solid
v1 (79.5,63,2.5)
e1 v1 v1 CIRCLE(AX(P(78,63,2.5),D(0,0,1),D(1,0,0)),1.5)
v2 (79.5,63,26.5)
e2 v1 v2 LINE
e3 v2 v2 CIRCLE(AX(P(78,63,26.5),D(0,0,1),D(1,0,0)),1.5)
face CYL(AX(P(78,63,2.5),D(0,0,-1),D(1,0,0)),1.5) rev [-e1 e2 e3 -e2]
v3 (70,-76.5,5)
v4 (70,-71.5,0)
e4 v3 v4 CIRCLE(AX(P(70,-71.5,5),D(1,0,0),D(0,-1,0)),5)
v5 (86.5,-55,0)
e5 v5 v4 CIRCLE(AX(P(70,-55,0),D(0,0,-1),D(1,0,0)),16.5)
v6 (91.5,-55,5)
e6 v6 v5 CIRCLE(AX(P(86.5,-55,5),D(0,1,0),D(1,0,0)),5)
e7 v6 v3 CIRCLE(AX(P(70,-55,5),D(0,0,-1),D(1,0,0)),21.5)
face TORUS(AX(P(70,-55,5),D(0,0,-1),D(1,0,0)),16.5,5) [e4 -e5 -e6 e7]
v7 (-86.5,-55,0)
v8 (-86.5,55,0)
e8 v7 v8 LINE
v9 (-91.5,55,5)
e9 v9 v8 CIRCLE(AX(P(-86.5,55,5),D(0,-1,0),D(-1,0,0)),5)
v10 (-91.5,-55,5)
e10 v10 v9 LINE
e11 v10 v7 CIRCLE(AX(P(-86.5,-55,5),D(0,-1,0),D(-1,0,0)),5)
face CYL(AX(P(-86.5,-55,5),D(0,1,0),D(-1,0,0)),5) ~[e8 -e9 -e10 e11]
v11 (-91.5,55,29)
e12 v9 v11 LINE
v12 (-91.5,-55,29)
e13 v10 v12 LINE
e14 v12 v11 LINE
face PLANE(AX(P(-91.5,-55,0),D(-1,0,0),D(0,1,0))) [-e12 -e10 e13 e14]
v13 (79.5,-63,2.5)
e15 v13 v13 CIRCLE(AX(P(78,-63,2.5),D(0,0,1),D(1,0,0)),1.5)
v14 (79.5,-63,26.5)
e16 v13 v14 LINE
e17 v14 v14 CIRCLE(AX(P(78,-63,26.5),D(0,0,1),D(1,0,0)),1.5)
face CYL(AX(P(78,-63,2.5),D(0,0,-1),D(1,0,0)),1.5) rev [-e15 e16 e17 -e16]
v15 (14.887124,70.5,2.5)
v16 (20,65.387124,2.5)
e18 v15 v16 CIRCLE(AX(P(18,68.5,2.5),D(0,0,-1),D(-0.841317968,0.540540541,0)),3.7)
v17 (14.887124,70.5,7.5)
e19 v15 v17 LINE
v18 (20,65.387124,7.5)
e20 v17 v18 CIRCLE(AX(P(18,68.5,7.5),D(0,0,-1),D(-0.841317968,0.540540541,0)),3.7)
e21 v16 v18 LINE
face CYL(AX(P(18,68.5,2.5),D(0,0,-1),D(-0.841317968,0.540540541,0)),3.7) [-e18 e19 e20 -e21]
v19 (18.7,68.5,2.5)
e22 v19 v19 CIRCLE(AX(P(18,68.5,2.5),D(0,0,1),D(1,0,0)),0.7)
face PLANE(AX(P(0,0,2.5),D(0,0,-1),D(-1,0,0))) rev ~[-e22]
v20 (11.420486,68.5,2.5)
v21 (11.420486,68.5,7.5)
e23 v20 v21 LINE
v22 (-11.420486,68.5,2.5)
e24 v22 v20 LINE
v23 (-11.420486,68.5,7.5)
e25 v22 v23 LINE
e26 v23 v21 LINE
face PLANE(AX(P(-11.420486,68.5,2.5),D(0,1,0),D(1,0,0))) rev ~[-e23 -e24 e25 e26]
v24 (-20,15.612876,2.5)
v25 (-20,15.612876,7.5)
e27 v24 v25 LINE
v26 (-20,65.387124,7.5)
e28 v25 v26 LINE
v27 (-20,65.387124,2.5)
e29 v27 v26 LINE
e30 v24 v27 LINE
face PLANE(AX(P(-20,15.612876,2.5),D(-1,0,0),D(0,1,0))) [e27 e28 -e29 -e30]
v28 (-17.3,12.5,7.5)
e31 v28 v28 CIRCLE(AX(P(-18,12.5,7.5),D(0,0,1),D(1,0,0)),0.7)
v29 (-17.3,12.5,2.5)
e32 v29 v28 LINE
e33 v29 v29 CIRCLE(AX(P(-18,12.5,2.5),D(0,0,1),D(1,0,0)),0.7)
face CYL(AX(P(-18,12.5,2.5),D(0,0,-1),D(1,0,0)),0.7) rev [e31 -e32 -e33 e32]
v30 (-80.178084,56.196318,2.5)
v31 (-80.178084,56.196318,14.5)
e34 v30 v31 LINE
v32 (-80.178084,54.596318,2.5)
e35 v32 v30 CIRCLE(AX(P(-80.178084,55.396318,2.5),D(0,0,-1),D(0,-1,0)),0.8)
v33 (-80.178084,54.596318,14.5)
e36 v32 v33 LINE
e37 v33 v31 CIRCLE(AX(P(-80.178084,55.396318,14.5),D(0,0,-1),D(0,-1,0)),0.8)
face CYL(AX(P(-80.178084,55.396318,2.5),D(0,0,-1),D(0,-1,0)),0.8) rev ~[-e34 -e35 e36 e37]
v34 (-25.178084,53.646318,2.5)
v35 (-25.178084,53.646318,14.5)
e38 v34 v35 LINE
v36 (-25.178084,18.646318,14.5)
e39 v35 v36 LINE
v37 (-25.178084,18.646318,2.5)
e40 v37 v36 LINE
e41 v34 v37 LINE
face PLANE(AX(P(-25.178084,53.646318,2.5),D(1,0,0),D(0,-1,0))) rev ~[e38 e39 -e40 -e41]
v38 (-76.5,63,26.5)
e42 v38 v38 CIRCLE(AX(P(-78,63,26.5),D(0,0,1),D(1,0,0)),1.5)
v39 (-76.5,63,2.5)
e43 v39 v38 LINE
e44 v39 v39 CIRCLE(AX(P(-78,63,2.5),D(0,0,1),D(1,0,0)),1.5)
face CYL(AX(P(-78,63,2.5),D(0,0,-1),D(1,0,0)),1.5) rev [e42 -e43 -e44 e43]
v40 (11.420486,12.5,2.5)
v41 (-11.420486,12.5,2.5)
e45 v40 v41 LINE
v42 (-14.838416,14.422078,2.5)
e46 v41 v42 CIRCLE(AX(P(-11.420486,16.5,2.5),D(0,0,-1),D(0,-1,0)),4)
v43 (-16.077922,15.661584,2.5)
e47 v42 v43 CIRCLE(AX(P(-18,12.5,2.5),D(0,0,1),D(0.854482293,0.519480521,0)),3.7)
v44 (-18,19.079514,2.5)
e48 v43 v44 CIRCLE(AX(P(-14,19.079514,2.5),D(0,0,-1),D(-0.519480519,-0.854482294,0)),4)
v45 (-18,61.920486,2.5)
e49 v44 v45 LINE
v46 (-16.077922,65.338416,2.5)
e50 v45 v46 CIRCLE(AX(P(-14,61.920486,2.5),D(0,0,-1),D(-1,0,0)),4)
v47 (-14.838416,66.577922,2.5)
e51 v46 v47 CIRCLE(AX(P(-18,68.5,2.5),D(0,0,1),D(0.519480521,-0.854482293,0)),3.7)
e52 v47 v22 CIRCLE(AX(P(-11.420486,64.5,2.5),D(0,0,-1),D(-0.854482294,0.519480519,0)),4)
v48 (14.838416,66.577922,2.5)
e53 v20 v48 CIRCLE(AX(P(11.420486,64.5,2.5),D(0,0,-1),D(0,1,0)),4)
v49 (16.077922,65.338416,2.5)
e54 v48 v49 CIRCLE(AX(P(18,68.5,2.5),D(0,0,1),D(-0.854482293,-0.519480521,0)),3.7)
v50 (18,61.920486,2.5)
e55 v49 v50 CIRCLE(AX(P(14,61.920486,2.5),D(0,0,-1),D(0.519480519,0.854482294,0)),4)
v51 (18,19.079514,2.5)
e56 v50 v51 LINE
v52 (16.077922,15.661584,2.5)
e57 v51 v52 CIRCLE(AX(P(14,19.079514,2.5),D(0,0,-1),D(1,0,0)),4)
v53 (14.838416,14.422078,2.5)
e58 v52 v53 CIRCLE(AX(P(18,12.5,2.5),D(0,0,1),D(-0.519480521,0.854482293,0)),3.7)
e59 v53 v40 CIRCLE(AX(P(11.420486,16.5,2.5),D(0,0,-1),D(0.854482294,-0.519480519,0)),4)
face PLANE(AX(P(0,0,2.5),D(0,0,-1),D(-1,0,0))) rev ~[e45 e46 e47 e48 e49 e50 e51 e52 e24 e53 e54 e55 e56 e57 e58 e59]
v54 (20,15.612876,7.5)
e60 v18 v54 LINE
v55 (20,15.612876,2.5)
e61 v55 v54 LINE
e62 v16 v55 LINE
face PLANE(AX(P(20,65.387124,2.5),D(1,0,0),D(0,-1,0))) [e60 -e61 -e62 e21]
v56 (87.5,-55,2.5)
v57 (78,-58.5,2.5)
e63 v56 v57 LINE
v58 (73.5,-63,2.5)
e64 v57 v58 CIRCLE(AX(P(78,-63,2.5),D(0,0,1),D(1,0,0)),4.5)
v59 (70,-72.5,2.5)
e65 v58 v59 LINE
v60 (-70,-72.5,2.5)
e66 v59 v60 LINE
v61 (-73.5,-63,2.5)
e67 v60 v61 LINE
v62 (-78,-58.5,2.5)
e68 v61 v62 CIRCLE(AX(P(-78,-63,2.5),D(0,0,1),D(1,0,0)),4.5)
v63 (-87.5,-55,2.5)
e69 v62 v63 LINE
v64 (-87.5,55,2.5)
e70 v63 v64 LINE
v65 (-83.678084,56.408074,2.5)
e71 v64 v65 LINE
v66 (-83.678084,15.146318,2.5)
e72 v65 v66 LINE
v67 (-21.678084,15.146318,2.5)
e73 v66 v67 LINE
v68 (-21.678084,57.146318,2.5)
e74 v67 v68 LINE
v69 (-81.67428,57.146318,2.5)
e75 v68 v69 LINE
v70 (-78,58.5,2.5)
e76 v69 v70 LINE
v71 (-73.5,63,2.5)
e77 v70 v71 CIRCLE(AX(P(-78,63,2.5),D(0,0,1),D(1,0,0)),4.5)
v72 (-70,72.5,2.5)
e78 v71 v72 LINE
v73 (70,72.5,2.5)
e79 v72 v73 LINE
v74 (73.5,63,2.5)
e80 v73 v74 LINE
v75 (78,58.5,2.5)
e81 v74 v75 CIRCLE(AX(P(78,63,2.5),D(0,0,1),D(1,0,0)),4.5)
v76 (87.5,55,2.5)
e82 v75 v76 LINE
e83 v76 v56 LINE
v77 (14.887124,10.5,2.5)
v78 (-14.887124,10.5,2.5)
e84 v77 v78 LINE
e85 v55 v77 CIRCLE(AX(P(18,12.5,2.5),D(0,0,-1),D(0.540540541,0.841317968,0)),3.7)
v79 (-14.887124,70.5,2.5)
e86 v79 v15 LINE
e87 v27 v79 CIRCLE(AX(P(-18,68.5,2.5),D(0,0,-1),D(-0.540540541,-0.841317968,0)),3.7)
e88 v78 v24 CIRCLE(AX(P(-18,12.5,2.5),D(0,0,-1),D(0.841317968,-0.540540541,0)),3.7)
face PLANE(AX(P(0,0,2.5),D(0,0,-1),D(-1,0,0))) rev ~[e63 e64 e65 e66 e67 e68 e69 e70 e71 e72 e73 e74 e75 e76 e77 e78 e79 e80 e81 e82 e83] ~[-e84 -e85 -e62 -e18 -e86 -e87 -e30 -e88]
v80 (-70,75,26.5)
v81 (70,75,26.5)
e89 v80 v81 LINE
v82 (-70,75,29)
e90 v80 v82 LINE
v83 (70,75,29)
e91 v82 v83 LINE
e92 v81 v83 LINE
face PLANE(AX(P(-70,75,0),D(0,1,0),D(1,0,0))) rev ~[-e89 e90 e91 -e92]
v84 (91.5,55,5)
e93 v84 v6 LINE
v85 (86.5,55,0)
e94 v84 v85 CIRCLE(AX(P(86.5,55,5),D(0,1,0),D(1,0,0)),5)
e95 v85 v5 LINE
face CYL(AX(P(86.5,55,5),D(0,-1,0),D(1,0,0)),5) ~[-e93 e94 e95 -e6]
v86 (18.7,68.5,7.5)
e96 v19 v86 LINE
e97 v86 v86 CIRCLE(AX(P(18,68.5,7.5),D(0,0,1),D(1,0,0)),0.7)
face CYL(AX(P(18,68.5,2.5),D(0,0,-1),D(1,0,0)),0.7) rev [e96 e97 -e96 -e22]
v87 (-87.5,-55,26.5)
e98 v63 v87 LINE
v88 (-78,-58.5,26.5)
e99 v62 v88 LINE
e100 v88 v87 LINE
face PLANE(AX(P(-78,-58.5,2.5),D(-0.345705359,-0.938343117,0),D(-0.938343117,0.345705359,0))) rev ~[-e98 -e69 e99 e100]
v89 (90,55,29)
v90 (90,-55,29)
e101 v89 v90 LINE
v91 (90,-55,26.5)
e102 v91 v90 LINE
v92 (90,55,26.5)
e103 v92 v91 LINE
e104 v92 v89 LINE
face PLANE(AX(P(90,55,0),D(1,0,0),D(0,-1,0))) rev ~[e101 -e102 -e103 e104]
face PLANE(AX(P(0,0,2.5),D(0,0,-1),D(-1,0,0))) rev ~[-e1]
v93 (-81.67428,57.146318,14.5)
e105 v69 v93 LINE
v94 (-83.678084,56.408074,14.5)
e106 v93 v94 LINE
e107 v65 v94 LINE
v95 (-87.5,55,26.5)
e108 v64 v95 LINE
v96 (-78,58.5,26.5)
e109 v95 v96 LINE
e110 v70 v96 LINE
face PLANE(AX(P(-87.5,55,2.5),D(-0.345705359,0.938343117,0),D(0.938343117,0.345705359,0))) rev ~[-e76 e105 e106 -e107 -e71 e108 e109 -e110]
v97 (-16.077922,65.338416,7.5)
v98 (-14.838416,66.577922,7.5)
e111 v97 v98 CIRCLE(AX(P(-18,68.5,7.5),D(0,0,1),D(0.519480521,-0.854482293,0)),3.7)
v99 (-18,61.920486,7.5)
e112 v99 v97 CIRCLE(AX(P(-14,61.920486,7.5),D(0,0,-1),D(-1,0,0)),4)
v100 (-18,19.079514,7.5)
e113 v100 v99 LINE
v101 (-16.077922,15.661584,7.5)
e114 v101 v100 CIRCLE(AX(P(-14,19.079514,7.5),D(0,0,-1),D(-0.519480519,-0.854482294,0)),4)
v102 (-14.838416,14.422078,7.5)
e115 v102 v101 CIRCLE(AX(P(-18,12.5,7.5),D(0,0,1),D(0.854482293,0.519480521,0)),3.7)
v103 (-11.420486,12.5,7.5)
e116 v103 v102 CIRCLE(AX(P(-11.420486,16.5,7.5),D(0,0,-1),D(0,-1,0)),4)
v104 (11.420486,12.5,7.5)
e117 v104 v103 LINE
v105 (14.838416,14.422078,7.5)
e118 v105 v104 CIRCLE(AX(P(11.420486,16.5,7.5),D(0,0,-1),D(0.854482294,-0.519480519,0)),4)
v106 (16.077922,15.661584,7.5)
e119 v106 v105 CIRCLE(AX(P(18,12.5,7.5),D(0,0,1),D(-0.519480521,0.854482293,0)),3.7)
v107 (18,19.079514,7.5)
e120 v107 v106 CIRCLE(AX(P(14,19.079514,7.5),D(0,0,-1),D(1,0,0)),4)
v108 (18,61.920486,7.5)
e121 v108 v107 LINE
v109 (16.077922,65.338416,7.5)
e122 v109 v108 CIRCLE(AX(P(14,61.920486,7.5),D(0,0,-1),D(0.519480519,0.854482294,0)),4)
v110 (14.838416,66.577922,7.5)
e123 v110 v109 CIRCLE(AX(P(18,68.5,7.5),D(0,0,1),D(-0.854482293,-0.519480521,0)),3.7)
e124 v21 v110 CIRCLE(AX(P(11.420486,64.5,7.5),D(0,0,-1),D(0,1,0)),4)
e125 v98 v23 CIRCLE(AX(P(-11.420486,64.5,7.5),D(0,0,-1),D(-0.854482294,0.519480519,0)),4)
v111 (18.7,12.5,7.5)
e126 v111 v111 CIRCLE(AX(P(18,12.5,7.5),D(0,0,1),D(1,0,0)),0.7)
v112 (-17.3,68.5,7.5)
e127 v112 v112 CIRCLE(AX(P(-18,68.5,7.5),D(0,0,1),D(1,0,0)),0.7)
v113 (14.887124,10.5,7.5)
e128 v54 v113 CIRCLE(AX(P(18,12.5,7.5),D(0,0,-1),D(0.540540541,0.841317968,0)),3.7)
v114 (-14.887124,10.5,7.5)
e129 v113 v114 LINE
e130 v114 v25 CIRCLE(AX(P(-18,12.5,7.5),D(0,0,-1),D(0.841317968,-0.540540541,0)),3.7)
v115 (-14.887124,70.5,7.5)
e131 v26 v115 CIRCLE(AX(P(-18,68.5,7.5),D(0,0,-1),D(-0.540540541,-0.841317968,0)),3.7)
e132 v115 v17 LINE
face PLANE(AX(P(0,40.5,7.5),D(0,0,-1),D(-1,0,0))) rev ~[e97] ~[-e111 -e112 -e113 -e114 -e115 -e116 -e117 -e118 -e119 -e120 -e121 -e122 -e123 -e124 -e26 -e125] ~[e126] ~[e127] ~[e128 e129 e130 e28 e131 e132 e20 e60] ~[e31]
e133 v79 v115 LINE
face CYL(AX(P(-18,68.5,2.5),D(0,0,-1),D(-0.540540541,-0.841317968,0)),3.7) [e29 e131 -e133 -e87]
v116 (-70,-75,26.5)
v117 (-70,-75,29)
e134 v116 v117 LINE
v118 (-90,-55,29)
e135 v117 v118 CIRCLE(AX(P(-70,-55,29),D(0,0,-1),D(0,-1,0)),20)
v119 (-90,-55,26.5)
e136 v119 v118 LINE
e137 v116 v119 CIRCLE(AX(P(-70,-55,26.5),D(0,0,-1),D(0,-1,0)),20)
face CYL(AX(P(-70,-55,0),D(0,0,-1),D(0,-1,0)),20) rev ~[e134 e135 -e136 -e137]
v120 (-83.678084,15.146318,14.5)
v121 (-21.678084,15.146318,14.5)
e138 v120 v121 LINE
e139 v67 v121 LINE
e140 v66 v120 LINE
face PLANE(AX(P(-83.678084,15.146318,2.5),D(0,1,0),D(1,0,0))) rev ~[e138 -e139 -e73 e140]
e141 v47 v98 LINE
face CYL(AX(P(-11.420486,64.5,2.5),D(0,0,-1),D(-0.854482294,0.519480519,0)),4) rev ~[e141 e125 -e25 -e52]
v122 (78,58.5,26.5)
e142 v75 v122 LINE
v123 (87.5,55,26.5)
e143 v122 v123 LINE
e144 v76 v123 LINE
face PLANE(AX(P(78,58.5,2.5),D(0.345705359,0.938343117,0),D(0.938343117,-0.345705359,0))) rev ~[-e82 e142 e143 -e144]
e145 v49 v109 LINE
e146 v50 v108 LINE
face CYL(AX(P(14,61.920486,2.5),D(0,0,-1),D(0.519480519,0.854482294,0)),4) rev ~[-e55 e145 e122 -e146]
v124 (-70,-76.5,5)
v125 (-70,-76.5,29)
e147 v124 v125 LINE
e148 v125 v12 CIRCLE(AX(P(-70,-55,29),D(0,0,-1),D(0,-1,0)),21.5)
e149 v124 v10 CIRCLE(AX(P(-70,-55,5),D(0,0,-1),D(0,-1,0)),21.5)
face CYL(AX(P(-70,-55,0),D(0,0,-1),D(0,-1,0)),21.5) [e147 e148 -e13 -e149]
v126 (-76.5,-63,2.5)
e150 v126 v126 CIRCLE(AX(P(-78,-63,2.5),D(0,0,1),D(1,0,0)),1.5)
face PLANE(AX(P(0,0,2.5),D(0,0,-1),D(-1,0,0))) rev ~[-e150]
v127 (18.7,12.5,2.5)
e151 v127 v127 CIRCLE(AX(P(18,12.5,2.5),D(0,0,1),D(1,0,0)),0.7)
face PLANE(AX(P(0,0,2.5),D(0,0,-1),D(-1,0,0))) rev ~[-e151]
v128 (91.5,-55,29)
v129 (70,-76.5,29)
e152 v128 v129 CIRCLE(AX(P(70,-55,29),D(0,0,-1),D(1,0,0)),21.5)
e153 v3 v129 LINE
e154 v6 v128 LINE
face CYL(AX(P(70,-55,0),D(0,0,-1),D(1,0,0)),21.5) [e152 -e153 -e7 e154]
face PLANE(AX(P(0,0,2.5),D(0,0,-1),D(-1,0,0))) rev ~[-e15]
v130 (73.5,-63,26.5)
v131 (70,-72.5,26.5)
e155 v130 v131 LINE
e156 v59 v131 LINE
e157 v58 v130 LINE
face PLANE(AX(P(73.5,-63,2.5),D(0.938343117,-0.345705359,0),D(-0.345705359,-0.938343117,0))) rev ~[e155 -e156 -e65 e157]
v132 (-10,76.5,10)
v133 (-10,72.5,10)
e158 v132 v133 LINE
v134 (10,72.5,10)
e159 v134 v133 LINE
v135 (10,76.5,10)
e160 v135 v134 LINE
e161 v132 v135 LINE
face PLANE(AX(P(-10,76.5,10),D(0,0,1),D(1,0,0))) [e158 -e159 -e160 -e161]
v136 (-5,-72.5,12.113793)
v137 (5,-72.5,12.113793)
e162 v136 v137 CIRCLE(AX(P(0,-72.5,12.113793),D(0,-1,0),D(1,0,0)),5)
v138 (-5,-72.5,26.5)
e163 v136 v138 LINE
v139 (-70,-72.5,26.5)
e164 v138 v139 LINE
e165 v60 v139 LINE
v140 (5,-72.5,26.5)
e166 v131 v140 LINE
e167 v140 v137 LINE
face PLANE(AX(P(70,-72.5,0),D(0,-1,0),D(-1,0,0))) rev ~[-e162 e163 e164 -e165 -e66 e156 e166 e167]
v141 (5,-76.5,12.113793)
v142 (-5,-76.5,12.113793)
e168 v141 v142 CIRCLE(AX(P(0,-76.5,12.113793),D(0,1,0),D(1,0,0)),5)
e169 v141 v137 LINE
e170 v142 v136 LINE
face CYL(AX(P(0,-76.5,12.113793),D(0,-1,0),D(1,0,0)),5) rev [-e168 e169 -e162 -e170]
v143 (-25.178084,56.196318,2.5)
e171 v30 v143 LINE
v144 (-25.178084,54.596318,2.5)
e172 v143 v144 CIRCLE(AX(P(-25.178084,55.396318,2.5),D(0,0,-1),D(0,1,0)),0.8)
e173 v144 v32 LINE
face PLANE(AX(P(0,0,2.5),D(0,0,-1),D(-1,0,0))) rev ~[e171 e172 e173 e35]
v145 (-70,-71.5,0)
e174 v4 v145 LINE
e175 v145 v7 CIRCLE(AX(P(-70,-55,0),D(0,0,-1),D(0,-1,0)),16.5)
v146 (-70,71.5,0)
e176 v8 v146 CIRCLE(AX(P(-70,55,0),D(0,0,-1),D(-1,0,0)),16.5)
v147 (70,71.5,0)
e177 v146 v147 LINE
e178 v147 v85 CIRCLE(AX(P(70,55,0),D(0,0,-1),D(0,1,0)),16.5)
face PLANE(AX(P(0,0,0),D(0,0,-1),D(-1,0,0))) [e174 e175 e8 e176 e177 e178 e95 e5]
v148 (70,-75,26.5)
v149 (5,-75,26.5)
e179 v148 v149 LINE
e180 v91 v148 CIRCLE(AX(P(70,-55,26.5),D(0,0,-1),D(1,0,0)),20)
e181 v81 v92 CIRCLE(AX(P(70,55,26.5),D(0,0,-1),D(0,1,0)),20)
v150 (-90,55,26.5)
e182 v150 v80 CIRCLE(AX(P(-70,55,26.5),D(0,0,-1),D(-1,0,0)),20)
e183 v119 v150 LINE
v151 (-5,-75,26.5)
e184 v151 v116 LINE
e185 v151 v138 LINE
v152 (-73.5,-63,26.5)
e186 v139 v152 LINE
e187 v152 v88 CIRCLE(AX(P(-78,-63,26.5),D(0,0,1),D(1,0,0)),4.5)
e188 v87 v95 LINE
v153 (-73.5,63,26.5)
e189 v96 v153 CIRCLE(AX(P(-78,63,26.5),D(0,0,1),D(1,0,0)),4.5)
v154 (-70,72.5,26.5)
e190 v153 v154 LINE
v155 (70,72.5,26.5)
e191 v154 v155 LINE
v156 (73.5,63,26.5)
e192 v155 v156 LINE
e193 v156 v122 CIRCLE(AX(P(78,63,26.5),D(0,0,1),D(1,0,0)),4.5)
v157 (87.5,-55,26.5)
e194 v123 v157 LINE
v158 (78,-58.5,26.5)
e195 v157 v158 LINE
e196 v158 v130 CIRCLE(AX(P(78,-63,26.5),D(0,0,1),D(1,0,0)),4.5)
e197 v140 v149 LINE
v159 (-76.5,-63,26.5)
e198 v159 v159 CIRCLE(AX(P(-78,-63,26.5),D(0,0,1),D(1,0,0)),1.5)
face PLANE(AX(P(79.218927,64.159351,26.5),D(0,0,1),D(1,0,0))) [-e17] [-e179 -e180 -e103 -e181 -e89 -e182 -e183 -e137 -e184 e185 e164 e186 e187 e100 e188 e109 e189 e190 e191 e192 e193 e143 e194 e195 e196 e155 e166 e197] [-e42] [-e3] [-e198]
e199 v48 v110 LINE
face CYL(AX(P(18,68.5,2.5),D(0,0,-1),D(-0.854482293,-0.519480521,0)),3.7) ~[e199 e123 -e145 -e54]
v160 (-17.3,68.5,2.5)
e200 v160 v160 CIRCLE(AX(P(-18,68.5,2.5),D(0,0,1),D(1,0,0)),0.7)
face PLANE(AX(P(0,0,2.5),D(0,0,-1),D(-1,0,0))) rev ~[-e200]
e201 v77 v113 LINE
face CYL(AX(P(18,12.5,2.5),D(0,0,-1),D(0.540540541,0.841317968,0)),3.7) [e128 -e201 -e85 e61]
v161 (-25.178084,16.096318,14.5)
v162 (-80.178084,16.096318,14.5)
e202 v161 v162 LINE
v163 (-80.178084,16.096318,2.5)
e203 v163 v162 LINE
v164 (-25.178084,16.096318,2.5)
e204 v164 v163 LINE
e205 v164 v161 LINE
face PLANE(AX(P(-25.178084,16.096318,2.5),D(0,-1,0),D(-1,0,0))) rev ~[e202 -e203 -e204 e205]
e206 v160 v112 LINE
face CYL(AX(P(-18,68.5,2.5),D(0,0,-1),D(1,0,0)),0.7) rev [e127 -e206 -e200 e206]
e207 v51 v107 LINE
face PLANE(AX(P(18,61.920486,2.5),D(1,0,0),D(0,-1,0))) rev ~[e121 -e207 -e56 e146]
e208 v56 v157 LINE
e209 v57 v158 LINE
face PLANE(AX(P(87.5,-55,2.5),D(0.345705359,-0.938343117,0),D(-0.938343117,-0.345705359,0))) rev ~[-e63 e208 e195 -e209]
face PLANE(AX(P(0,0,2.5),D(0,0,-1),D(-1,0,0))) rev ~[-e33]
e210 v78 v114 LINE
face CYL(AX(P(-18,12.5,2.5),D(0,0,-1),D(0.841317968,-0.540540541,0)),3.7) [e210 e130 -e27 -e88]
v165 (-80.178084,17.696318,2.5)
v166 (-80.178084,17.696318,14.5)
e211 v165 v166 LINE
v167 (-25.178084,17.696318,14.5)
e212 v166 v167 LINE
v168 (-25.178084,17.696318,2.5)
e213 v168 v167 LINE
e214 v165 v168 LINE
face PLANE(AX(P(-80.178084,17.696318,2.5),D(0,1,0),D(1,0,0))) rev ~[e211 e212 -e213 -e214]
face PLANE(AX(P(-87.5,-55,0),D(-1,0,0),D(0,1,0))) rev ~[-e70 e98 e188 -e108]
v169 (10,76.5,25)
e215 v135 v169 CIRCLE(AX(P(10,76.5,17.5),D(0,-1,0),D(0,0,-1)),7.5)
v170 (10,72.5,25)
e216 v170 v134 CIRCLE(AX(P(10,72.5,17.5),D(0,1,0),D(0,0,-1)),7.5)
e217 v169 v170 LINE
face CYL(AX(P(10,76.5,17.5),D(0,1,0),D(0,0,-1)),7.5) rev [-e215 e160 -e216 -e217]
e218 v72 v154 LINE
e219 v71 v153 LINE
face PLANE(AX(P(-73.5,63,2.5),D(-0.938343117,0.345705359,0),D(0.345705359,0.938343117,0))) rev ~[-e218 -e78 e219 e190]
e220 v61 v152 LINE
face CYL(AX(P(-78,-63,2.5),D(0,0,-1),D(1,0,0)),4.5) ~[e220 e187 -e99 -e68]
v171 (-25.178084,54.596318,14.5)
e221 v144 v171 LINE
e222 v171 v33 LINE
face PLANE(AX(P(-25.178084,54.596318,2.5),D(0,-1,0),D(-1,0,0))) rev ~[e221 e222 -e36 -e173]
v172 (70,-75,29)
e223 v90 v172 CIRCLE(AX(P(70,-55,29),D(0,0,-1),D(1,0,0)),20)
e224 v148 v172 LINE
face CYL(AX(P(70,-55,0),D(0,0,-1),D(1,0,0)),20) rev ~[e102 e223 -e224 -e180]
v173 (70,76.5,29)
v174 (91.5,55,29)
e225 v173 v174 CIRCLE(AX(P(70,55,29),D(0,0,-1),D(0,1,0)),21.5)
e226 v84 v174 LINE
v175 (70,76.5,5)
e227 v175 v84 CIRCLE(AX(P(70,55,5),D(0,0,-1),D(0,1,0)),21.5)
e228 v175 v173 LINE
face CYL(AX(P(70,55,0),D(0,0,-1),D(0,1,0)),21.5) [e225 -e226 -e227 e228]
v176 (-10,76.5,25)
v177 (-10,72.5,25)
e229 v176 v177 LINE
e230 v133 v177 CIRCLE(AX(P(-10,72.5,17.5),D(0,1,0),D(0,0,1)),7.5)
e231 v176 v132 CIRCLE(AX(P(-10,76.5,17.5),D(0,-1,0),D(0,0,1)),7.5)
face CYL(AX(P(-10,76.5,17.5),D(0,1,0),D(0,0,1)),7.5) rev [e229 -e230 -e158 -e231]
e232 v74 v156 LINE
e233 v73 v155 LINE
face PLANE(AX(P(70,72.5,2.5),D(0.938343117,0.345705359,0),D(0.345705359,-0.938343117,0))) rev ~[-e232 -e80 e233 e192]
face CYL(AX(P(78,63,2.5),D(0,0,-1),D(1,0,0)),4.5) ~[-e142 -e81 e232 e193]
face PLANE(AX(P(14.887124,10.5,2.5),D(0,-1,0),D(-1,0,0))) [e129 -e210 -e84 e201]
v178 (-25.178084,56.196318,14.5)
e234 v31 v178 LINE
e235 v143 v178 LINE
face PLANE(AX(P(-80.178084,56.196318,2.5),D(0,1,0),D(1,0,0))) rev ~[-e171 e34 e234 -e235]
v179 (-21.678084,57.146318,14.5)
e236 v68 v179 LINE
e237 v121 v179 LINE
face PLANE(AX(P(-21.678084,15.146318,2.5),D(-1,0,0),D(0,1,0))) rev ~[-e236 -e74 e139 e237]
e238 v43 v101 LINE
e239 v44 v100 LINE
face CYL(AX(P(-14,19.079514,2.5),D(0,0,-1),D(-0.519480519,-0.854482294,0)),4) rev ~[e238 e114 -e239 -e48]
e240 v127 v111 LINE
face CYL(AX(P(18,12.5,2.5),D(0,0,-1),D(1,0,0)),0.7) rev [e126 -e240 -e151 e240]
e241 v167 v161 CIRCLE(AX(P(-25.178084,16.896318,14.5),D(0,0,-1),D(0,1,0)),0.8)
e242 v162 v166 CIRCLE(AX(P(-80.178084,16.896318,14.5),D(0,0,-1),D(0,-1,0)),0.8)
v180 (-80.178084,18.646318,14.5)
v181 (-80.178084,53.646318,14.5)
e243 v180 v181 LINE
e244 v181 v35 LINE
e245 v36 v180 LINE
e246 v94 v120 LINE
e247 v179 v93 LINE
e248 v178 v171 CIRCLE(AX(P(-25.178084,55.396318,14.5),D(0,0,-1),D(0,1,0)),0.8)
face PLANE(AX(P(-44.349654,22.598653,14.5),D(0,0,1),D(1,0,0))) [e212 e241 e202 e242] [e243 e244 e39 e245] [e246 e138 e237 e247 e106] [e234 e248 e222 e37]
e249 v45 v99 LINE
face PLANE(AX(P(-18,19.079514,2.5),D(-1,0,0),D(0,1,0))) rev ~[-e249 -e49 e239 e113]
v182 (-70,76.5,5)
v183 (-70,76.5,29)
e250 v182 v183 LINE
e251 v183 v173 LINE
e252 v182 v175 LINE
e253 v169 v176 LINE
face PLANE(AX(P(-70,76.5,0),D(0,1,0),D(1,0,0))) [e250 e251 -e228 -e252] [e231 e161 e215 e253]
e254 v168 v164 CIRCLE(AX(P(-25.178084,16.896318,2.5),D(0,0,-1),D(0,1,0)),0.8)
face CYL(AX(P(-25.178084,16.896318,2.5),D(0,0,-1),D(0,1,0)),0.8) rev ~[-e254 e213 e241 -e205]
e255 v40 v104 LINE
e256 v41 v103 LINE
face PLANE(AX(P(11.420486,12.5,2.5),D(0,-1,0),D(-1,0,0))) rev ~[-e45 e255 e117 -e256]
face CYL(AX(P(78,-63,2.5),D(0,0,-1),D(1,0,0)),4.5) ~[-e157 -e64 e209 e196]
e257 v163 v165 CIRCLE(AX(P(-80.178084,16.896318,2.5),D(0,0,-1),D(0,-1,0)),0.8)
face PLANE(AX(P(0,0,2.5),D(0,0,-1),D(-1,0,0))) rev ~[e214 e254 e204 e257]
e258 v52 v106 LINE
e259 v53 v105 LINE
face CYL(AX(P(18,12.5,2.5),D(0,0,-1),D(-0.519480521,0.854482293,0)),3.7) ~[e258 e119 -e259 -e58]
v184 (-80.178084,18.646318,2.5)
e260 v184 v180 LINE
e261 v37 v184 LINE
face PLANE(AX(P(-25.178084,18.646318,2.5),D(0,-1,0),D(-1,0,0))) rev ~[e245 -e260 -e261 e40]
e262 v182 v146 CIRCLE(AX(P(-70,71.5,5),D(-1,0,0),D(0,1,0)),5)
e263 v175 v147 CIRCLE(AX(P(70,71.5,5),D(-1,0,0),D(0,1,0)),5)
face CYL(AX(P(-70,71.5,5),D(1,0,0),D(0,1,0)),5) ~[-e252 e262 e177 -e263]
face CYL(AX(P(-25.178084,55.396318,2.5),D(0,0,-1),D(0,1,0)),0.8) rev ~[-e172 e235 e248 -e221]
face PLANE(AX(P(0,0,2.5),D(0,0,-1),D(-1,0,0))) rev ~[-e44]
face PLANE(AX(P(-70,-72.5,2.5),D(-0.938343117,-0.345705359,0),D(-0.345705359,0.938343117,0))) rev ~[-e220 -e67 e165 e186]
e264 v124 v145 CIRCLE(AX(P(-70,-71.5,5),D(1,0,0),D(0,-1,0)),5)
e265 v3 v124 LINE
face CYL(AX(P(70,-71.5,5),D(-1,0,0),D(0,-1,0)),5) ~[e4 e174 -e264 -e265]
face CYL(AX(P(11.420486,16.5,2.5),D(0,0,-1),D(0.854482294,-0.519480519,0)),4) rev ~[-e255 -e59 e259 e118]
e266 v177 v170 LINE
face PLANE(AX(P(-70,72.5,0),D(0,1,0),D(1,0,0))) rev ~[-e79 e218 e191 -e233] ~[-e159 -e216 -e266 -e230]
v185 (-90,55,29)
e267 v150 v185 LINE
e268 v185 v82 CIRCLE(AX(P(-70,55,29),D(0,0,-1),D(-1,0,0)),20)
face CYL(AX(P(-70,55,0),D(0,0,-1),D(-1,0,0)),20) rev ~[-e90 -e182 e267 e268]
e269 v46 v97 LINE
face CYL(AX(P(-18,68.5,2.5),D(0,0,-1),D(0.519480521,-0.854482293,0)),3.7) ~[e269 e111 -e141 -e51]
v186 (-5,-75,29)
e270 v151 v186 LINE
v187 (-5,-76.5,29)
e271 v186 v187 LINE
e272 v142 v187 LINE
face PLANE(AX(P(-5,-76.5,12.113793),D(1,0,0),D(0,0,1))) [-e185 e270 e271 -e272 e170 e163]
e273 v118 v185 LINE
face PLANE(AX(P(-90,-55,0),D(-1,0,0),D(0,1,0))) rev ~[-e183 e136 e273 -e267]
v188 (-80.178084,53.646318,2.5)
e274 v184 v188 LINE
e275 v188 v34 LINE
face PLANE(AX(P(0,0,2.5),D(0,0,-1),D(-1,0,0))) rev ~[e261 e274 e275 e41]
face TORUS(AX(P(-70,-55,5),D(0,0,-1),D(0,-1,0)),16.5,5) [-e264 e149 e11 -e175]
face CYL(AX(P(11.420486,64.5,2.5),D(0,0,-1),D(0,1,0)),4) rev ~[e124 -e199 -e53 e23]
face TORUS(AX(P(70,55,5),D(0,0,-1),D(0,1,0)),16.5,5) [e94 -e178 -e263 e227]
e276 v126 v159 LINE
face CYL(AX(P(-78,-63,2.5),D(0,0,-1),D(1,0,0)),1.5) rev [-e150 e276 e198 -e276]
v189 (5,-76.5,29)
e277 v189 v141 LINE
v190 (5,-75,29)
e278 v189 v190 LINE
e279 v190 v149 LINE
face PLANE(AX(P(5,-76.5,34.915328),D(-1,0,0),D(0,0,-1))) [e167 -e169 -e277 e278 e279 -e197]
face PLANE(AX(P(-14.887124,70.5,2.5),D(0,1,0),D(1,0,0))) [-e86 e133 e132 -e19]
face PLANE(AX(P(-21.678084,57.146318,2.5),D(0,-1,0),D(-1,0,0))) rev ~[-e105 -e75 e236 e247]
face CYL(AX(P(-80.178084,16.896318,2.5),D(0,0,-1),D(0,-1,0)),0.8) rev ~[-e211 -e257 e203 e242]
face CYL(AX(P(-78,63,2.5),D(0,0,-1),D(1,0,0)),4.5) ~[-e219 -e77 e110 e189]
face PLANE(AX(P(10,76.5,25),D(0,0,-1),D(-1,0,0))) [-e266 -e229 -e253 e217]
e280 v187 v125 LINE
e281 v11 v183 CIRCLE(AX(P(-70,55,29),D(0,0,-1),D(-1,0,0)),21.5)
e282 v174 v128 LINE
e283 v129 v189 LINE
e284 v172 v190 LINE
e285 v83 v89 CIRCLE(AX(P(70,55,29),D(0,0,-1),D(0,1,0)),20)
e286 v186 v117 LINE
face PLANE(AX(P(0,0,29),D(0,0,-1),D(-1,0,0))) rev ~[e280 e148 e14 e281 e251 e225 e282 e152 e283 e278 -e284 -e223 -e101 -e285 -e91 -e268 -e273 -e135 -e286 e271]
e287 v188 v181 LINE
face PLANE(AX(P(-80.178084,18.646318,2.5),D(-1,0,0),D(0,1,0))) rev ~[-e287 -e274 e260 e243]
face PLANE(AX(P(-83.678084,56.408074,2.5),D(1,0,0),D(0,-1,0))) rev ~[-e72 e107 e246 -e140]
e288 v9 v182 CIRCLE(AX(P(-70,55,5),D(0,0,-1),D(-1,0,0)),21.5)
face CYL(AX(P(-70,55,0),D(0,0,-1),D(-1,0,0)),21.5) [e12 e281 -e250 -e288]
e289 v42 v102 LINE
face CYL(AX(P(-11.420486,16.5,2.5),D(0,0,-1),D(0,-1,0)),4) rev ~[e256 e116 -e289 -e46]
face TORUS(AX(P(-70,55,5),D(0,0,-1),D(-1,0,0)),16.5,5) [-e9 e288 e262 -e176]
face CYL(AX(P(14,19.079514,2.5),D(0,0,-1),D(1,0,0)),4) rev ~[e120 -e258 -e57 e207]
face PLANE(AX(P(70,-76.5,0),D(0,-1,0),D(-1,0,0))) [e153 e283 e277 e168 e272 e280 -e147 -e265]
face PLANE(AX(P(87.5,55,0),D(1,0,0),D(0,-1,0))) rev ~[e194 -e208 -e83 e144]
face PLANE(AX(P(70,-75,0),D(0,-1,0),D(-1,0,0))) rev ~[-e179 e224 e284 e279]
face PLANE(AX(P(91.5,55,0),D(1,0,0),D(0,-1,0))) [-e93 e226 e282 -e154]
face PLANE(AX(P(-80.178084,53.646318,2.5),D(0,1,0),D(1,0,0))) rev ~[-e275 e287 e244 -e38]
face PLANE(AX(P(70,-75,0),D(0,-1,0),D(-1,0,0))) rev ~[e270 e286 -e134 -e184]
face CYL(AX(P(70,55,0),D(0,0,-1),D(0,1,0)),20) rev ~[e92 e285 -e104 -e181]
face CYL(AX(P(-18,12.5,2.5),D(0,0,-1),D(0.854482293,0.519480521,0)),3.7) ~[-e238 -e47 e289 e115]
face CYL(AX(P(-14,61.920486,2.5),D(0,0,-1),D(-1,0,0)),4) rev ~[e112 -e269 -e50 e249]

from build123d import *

# Parameters (mm, degrees)
BOSS_EXTRUDE1_DEPTH = 2.5
BOSS_EXTRUDE3_DEPTH = 26.5
BOSS_EXTRUDE5_DEPTH = 29
SKETCH2_R           = 1.5
BOSS_EXTRUDE6_DEPTH = 24
FILLET1_R           = 5
CUT_EXTRUDE1_DEPTH  = 10
SKETCH4_R           = 0.7
BOSS_EXTRUDE8_DEPTH = 5
CUT_EXTRUDE3_REACH  = 182.616
SKETCH6_W           = 55
SKETCH6_H           = 35
BOSS_EXTRUDE9_DEPTH = 12


with BuildPart() as part:
    # Sketch1 → Boss-Extrude1 (new body)
    with BuildSketch(Plane.XY):
        with BuildLine():
            Line((70, 72.5), (-70, 72.5))
            ThreePointArc((-70, 72.5), (-82.374368671, 67.374368671), (-87.5, 55))
            Line((-87.5, 55), (-87.5, -55))
            ThreePointArc((-87.5, -55), (-82.374368671, -67.374368671), (-70, -72.5))
            Line((-70, -72.5), (70, -72.5))
            ThreePointArc((70, -72.5), (82.374368671, -67.374368671), (87.5, -55))
            Line((87.5, -55), (87.5, 55))
            ThreePointArc((87.5, 55), (82.374368671, 67.374368671), (70, 72.5))
        make_face()
    extrude(amount=BOSS_EXTRUDE1_DEPTH)

    # Sketch1<4> → Boss-Extrude3 (add)
    with BuildSketch(Plane.XY):
        with BuildLine():
            Line((-70, 75), (70, 75))
            ThreePointArc((70, 75), (84.142135624, 69.142135624), (90, 55))
            Line((90, 55), (90, -55))
            ThreePointArc((90, -55), (84.142135624, -69.142135624), (70, -75))
            Line((70, -75), (-70, -75))
            ThreePointArc((-70, -75), (-84.142135624, -69.142135624), (-90, -55))
            Line((-90, -55), (-90, 55))
            ThreePointArc((-90, 55), (-84.142135624, 69.142135624), (-70, 75))
        make_face()
        with BuildLine():
            Line((-70, 72.5), (70, 72.5))
            ThreePointArc((70, 72.5), (82.374368671, 67.374368671), (87.5, 55))
            Line((87.5, 55), (87.5, -55))
            ThreePointArc((87.5, -55), (82.374368671, -67.374368671), (70, -72.5))
            Line((70, -72.5), (-70, -72.5))
            ThreePointArc((-70, -72.5), (-82.374368671, -67.374368671), (-87.5, -55))
            Line((-87.5, -55), (-87.5, 55))
            ThreePointArc((-87.5, 55), (-82.374368671, 67.374368671), (-70, 72.5))
        make_face(mode=Mode.SUBTRACT)
    extrude(amount=BOSS_EXTRUDE3_DEPTH)

    # Sketch1<6> → Boss-Extrude5 (add)
    with BuildSketch(Plane.XY):
        with BuildLine():
            Line((70, 76.5), (-70, 76.5))
            ThreePointArc((-70, 76.5), (-85.202795796, 70.202795796), (-91.5, 55))
            Line((-91.5, 55), (-91.5, -55))
            ThreePointArc((-91.5, -55), (-85.202795796, -70.202795796), (-70, -76.5))
            Line((-70, -76.5), (70, -76.5))
            ThreePointArc((70, -76.5), (85.202795796, -70.202795796), (91.5, -55))
            Line((91.5, -55), (91.5, 55))
            ThreePointArc((91.5, 55), (85.202795796, 70.202795796), (70, 76.5))
        make_face()
        with BuildLine():
            ThreePointArc((-90, 55), (-84.142135624, 69.142135624), (-70, 75))
            Line((-70, 75), (70, 75))
            ThreePointArc((70, 75), (84.142135624, 69.142135624), (90, 55))
            Line((90, 55), (90, -55))
            ThreePointArc((90, -55), (84.142135624, -69.142135624), (70, -75))
            Line((70, -75), (-70, -75))
            ThreePointArc((-70, -75), (-84.142135624, -69.142135624), (-90, -55))
            Line((-90, -55), (-90, 55))
        make_face(mode=Mode.SUBTRACT)
    extrude(amount=BOSS_EXTRUDE5_DEPTH)

    # Sketch2 → Boss-Extrude6 (add)
    # profile 1 of 4: a face of its own
    with BuildSketch(Plane.XY.offset(2.5)):
        with BuildLine():
            Line((87.5, -55), (78, -58.5))
            ThreePointArc((78, -58.5), (74.818019485, -59.818019485), (73.5, -63))
            Line((73.5, -63), (70, -72.5))
            ThreePointArc((70, -72.5), (82.374368671, -67.374368671), (87.5, -55))
        make_face()
        with Locations((78, -63)):
            Circle(SKETCH2_R, mode=Mode.SUBTRACT)
    # profile 2 of 4: a face of its own
    with BuildSketch(Plane.XY.offset(2.5)):
        with BuildLine():
            Line((70, 72.5), (73.5, 63))
            ThreePointArc((73.5, 63), (74.818019485, 59.818019485), (78, 58.5))
            Line((78, 58.5), (87.5, 55))
            ThreePointArc((87.5, 55), (82.374368671, 67.374368671), (70, 72.5))
        make_face()
        with Locations((78, 63)):
            Circle(SKETCH2_R, mode=Mode.SUBTRACT)
    # profile 3 of 4: a face of its own
    with BuildSketch(Plane.XY.offset(2.5)):
        with BuildLine():
            ThreePointArc((-73.5, -63), (-74.818019485, -59.818019485), (-78, -58.5))
            Line((-78, -58.5), (-87.5, -55))
            ThreePointArc((-87.5, -55), (-82.374368671, -67.374368671), (-70, -72.5))
            Line((-70, -72.5), (-73.5, -63))
        make_face()
        with Locations((-78, -63)):
            Circle(SKETCH2_R, mode=Mode.SUBTRACT)
    # profile 4 of 4: a face of its own
    with BuildSketch(Plane.XY.offset(2.5)):
        with BuildLine():
            Line((-87.5, 55), (-78, 58.5))
            ThreePointArc((-78, 58.5), (-74.818019485, 59.818019485), (-73.5, 63))
            Line((-73.5, 63), (-70, 72.5))
            ThreePointArc((-70, 72.5), (-82.374368671, 67.374368671), (-87.5, 55))
        make_face()
        with Locations((-78, 63)):
            Circle(SKETCH2_R, mode=Mode.SUBTRACT)
    extrude(amount=BOSS_EXTRUDE6_DEPTH)

    # Fillet1
    fillet1_edges = [part.edges().sort_by_distance(p)[0] for p in [
        (-85.202795796, -70.202795796, 0),
        (-91.5, 0, 0),
        (-85.202795796, 70.202795796, 0),
        (0, 76.5, 0),
        (85.202795796, 70.202795796, 0),
        (0, -76.5, 0),
        (85.202795796, -70.202795796, 0),
        (91.5, 0, 0),
    ]]
    fillet(fillet1_edges, radius=FILLET1_R)

    # Sketch3 → Cut-Extrude1 (cut)
    with BuildSketch(Plane.XZ.offset(76.5)):
        with BuildLine():
            Line((-5, 29), (-5, 12.11379287))
            ThreePointArc((-5, 12.11379287), (0, 7.11379287), (5, 12.11379287))
            Line((5, 12.11379287), (5, 29))
            Line((5, 29), (-5, 29))
        make_face()
    extrude(amount=-CUT_EXTRUDE1_DEPTH, mode=Mode.SUBTRACT)

    # Sketch4 → Boss-Extrude8 (add)
    with BuildSketch(Plane.XY.offset(2.5)):
        with BuildLine():
            Line((14.887123517, 10.5), (-14.887123517, 10.5))
            ThreePointArc((-14.887123517, 10.5), (-20.61629509, 9.88370491), (-20, 15.612876483))
            Line((-20, 15.612876483), (-20, 65.387123517))
            ThreePointArc((-20, 65.387123517), (-20.61629509, 71.11629509), (-14.887123517, 70.5))
            Line((-14.887123517, 70.5), (14.887123517, 70.5))
            ThreePointArc((14.887123517, 70.5), (20.61629509, 71.11629509), (20, 65.387123517))
            Line((20, 65.387123517), (20, 15.612876483))
            ThreePointArc((20, 15.612876483), (20.61629509, 9.88370491), (14.887123517, 10.5))
        make_face()
        with Locations((18, 12.5)):
            Circle(SKETCH4_R, mode=Mode.SUBTRACT)
        with Locations((-18, 12.5)):
            Circle(SKETCH4_R, mode=Mode.SUBTRACT)
        with Locations((-18, 68.5)):
            Circle(SKETCH4_R, mode=Mode.SUBTRACT)
        with Locations((18, 68.5)):
            Circle(SKETCH4_R, mode=Mode.SUBTRACT)
        with BuildLine():
            Line((11.42048634, 12.5), (-11.42048634, 12.5))
            ThreePointArc((-11.42048634, 12.5), (-13.381138233, 13.013476781), (-14.838415514, 14.422077922))
            ThreePointArc((-14.838415514, 14.422077922), (-15.38370491, 15.11629509), (-16.077922078, 15.661584486))
            ThreePointArc((-16.077922078, 15.661584486), (-17.486523219, 17.118861767), (-18, 19.07951366))
            Line((-18, 19.07951366), (-18, 61.92048634))
            ThreePointArc((-18, 61.92048634), (-17.486523219, 63.881138233), (-16.077922078, 65.338415514))
            ThreePointArc((-16.077922078, 65.338415514), (-15.38370491, 65.88370491), (-14.838415514, 66.577922078))
            ThreePointArc((-14.838415514, 66.577922078), (-13.381138233, 67.986523219), (-11.42048634, 68.5))
            Line((-11.42048634, 68.5), (11.42048634, 68.5))
            ThreePointArc((11.42048634, 68.5), (13.381138233, 67.986523219), (14.838415514, 66.577922078))
            ThreePointArc((14.838415514, 66.577922078), (15.38370491, 65.88370491), (16.077922078, 65.338415514))
            ThreePointArc((16.077922078, 65.338415514), (17.486523219, 63.881138233), (18, 61.92048634))
            Line((18, 61.92048634), (18, 19.07951366))
            ThreePointArc((18, 19.07951366), (17.486523219, 17.118861767), (16.077922078, 15.661584486))
            ThreePointArc((16.077922078, 15.661584486), (15.38370491, 15.11629509), (14.838415514, 14.422077922))
            ThreePointArc((14.838415514, 14.422077922), (13.381138233, 13.013476781), (11.42048634, 12.5))
        make_face(mode=Mode.SUBTRACT)
    extrude(amount=BOSS_EXTRUDE8_DEPTH)

    # Sketch5 → Cut-Extrude3 (cut, up to next)
    with BuildSketch(Plane(origin=(0, 76.5, 0), x_dir=(1, 0, 0), z_dir=(0, 1, 0)), mode=Mode.PRIVATE) as cut_extrude3_sk1:
        with BuildLine():
            Line((10, -25), (-10, -25))
            ThreePointArc((-10, -25), (-17.5, -17.5), (-10, -10))
            Line((-10, -10), (10, -10))
            ThreePointArc((10, -10), (17.5, -17.5), (10, -25))
        make_face()
    cut_extrude3_tool1 = extrude(cut_extrude3_sk1.sketch, amount=-CUT_EXTRUDE3_REACH, mode=Mode.PRIVATE) & part.part
    add(cut_extrude3_tool1.solids().sort_by_distance((0, 76.5, 17.5))[0], mode=Mode.SUBTRACT)

    # Sketch6 → Boss-Extrude9 (add)
    with BuildSketch(Plane.XY.offset(2.5)):
        Polygon((-83.678083714, 15.14631801), (-21.678083714, 15.14631801), (-21.678083714, 57.14631801), (-81.674279688, 57.14631801), (-83.678083714, 56.408074421), align=None)
        with BuildLine():
            Line((-80.178083714, 56.19631801), (-25.178083714, 56.19631801))
            ThreePointArc((-25.178083714, 56.19631801), (-24.378083714, 55.39631801), (-25.178083714, 54.59631801))
            Line((-25.178083714, 54.59631801), (-80.178083714, 54.59631801))
            ThreePointArc((-80.178083714, 54.59631801), (-80.978083714, 55.39631801), (-80.178083714, 56.19631801))
        make_face(mode=Mode.SUBTRACT)
        with Locations((-52.678083714, 36.14631801)):
            Rectangle(SKETCH6_W, SKETCH6_H, mode=Mode.SUBTRACT)
        with BuildLine():
            ThreePointArc((-80.178083714, 16.09631801), (-80.978083714, 16.89631801), (-80.178083714, 17.69631801))
            Line((-80.178083714, 17.69631801), (-25.178083714, 17.69631801))
            ThreePointArc((-25.178083714, 17.69631801), (-24.378083714, 16.89631801), (-25.178083714, 16.09631801))
            Line((-25.178083714, 16.09631801), (-80.178083714, 16.09631801))
        make_face(mode=Mode.SUBTRACT)
    extrude(amount=BOSS_EXTRUDE9_DEPTH)


solid = part.part
